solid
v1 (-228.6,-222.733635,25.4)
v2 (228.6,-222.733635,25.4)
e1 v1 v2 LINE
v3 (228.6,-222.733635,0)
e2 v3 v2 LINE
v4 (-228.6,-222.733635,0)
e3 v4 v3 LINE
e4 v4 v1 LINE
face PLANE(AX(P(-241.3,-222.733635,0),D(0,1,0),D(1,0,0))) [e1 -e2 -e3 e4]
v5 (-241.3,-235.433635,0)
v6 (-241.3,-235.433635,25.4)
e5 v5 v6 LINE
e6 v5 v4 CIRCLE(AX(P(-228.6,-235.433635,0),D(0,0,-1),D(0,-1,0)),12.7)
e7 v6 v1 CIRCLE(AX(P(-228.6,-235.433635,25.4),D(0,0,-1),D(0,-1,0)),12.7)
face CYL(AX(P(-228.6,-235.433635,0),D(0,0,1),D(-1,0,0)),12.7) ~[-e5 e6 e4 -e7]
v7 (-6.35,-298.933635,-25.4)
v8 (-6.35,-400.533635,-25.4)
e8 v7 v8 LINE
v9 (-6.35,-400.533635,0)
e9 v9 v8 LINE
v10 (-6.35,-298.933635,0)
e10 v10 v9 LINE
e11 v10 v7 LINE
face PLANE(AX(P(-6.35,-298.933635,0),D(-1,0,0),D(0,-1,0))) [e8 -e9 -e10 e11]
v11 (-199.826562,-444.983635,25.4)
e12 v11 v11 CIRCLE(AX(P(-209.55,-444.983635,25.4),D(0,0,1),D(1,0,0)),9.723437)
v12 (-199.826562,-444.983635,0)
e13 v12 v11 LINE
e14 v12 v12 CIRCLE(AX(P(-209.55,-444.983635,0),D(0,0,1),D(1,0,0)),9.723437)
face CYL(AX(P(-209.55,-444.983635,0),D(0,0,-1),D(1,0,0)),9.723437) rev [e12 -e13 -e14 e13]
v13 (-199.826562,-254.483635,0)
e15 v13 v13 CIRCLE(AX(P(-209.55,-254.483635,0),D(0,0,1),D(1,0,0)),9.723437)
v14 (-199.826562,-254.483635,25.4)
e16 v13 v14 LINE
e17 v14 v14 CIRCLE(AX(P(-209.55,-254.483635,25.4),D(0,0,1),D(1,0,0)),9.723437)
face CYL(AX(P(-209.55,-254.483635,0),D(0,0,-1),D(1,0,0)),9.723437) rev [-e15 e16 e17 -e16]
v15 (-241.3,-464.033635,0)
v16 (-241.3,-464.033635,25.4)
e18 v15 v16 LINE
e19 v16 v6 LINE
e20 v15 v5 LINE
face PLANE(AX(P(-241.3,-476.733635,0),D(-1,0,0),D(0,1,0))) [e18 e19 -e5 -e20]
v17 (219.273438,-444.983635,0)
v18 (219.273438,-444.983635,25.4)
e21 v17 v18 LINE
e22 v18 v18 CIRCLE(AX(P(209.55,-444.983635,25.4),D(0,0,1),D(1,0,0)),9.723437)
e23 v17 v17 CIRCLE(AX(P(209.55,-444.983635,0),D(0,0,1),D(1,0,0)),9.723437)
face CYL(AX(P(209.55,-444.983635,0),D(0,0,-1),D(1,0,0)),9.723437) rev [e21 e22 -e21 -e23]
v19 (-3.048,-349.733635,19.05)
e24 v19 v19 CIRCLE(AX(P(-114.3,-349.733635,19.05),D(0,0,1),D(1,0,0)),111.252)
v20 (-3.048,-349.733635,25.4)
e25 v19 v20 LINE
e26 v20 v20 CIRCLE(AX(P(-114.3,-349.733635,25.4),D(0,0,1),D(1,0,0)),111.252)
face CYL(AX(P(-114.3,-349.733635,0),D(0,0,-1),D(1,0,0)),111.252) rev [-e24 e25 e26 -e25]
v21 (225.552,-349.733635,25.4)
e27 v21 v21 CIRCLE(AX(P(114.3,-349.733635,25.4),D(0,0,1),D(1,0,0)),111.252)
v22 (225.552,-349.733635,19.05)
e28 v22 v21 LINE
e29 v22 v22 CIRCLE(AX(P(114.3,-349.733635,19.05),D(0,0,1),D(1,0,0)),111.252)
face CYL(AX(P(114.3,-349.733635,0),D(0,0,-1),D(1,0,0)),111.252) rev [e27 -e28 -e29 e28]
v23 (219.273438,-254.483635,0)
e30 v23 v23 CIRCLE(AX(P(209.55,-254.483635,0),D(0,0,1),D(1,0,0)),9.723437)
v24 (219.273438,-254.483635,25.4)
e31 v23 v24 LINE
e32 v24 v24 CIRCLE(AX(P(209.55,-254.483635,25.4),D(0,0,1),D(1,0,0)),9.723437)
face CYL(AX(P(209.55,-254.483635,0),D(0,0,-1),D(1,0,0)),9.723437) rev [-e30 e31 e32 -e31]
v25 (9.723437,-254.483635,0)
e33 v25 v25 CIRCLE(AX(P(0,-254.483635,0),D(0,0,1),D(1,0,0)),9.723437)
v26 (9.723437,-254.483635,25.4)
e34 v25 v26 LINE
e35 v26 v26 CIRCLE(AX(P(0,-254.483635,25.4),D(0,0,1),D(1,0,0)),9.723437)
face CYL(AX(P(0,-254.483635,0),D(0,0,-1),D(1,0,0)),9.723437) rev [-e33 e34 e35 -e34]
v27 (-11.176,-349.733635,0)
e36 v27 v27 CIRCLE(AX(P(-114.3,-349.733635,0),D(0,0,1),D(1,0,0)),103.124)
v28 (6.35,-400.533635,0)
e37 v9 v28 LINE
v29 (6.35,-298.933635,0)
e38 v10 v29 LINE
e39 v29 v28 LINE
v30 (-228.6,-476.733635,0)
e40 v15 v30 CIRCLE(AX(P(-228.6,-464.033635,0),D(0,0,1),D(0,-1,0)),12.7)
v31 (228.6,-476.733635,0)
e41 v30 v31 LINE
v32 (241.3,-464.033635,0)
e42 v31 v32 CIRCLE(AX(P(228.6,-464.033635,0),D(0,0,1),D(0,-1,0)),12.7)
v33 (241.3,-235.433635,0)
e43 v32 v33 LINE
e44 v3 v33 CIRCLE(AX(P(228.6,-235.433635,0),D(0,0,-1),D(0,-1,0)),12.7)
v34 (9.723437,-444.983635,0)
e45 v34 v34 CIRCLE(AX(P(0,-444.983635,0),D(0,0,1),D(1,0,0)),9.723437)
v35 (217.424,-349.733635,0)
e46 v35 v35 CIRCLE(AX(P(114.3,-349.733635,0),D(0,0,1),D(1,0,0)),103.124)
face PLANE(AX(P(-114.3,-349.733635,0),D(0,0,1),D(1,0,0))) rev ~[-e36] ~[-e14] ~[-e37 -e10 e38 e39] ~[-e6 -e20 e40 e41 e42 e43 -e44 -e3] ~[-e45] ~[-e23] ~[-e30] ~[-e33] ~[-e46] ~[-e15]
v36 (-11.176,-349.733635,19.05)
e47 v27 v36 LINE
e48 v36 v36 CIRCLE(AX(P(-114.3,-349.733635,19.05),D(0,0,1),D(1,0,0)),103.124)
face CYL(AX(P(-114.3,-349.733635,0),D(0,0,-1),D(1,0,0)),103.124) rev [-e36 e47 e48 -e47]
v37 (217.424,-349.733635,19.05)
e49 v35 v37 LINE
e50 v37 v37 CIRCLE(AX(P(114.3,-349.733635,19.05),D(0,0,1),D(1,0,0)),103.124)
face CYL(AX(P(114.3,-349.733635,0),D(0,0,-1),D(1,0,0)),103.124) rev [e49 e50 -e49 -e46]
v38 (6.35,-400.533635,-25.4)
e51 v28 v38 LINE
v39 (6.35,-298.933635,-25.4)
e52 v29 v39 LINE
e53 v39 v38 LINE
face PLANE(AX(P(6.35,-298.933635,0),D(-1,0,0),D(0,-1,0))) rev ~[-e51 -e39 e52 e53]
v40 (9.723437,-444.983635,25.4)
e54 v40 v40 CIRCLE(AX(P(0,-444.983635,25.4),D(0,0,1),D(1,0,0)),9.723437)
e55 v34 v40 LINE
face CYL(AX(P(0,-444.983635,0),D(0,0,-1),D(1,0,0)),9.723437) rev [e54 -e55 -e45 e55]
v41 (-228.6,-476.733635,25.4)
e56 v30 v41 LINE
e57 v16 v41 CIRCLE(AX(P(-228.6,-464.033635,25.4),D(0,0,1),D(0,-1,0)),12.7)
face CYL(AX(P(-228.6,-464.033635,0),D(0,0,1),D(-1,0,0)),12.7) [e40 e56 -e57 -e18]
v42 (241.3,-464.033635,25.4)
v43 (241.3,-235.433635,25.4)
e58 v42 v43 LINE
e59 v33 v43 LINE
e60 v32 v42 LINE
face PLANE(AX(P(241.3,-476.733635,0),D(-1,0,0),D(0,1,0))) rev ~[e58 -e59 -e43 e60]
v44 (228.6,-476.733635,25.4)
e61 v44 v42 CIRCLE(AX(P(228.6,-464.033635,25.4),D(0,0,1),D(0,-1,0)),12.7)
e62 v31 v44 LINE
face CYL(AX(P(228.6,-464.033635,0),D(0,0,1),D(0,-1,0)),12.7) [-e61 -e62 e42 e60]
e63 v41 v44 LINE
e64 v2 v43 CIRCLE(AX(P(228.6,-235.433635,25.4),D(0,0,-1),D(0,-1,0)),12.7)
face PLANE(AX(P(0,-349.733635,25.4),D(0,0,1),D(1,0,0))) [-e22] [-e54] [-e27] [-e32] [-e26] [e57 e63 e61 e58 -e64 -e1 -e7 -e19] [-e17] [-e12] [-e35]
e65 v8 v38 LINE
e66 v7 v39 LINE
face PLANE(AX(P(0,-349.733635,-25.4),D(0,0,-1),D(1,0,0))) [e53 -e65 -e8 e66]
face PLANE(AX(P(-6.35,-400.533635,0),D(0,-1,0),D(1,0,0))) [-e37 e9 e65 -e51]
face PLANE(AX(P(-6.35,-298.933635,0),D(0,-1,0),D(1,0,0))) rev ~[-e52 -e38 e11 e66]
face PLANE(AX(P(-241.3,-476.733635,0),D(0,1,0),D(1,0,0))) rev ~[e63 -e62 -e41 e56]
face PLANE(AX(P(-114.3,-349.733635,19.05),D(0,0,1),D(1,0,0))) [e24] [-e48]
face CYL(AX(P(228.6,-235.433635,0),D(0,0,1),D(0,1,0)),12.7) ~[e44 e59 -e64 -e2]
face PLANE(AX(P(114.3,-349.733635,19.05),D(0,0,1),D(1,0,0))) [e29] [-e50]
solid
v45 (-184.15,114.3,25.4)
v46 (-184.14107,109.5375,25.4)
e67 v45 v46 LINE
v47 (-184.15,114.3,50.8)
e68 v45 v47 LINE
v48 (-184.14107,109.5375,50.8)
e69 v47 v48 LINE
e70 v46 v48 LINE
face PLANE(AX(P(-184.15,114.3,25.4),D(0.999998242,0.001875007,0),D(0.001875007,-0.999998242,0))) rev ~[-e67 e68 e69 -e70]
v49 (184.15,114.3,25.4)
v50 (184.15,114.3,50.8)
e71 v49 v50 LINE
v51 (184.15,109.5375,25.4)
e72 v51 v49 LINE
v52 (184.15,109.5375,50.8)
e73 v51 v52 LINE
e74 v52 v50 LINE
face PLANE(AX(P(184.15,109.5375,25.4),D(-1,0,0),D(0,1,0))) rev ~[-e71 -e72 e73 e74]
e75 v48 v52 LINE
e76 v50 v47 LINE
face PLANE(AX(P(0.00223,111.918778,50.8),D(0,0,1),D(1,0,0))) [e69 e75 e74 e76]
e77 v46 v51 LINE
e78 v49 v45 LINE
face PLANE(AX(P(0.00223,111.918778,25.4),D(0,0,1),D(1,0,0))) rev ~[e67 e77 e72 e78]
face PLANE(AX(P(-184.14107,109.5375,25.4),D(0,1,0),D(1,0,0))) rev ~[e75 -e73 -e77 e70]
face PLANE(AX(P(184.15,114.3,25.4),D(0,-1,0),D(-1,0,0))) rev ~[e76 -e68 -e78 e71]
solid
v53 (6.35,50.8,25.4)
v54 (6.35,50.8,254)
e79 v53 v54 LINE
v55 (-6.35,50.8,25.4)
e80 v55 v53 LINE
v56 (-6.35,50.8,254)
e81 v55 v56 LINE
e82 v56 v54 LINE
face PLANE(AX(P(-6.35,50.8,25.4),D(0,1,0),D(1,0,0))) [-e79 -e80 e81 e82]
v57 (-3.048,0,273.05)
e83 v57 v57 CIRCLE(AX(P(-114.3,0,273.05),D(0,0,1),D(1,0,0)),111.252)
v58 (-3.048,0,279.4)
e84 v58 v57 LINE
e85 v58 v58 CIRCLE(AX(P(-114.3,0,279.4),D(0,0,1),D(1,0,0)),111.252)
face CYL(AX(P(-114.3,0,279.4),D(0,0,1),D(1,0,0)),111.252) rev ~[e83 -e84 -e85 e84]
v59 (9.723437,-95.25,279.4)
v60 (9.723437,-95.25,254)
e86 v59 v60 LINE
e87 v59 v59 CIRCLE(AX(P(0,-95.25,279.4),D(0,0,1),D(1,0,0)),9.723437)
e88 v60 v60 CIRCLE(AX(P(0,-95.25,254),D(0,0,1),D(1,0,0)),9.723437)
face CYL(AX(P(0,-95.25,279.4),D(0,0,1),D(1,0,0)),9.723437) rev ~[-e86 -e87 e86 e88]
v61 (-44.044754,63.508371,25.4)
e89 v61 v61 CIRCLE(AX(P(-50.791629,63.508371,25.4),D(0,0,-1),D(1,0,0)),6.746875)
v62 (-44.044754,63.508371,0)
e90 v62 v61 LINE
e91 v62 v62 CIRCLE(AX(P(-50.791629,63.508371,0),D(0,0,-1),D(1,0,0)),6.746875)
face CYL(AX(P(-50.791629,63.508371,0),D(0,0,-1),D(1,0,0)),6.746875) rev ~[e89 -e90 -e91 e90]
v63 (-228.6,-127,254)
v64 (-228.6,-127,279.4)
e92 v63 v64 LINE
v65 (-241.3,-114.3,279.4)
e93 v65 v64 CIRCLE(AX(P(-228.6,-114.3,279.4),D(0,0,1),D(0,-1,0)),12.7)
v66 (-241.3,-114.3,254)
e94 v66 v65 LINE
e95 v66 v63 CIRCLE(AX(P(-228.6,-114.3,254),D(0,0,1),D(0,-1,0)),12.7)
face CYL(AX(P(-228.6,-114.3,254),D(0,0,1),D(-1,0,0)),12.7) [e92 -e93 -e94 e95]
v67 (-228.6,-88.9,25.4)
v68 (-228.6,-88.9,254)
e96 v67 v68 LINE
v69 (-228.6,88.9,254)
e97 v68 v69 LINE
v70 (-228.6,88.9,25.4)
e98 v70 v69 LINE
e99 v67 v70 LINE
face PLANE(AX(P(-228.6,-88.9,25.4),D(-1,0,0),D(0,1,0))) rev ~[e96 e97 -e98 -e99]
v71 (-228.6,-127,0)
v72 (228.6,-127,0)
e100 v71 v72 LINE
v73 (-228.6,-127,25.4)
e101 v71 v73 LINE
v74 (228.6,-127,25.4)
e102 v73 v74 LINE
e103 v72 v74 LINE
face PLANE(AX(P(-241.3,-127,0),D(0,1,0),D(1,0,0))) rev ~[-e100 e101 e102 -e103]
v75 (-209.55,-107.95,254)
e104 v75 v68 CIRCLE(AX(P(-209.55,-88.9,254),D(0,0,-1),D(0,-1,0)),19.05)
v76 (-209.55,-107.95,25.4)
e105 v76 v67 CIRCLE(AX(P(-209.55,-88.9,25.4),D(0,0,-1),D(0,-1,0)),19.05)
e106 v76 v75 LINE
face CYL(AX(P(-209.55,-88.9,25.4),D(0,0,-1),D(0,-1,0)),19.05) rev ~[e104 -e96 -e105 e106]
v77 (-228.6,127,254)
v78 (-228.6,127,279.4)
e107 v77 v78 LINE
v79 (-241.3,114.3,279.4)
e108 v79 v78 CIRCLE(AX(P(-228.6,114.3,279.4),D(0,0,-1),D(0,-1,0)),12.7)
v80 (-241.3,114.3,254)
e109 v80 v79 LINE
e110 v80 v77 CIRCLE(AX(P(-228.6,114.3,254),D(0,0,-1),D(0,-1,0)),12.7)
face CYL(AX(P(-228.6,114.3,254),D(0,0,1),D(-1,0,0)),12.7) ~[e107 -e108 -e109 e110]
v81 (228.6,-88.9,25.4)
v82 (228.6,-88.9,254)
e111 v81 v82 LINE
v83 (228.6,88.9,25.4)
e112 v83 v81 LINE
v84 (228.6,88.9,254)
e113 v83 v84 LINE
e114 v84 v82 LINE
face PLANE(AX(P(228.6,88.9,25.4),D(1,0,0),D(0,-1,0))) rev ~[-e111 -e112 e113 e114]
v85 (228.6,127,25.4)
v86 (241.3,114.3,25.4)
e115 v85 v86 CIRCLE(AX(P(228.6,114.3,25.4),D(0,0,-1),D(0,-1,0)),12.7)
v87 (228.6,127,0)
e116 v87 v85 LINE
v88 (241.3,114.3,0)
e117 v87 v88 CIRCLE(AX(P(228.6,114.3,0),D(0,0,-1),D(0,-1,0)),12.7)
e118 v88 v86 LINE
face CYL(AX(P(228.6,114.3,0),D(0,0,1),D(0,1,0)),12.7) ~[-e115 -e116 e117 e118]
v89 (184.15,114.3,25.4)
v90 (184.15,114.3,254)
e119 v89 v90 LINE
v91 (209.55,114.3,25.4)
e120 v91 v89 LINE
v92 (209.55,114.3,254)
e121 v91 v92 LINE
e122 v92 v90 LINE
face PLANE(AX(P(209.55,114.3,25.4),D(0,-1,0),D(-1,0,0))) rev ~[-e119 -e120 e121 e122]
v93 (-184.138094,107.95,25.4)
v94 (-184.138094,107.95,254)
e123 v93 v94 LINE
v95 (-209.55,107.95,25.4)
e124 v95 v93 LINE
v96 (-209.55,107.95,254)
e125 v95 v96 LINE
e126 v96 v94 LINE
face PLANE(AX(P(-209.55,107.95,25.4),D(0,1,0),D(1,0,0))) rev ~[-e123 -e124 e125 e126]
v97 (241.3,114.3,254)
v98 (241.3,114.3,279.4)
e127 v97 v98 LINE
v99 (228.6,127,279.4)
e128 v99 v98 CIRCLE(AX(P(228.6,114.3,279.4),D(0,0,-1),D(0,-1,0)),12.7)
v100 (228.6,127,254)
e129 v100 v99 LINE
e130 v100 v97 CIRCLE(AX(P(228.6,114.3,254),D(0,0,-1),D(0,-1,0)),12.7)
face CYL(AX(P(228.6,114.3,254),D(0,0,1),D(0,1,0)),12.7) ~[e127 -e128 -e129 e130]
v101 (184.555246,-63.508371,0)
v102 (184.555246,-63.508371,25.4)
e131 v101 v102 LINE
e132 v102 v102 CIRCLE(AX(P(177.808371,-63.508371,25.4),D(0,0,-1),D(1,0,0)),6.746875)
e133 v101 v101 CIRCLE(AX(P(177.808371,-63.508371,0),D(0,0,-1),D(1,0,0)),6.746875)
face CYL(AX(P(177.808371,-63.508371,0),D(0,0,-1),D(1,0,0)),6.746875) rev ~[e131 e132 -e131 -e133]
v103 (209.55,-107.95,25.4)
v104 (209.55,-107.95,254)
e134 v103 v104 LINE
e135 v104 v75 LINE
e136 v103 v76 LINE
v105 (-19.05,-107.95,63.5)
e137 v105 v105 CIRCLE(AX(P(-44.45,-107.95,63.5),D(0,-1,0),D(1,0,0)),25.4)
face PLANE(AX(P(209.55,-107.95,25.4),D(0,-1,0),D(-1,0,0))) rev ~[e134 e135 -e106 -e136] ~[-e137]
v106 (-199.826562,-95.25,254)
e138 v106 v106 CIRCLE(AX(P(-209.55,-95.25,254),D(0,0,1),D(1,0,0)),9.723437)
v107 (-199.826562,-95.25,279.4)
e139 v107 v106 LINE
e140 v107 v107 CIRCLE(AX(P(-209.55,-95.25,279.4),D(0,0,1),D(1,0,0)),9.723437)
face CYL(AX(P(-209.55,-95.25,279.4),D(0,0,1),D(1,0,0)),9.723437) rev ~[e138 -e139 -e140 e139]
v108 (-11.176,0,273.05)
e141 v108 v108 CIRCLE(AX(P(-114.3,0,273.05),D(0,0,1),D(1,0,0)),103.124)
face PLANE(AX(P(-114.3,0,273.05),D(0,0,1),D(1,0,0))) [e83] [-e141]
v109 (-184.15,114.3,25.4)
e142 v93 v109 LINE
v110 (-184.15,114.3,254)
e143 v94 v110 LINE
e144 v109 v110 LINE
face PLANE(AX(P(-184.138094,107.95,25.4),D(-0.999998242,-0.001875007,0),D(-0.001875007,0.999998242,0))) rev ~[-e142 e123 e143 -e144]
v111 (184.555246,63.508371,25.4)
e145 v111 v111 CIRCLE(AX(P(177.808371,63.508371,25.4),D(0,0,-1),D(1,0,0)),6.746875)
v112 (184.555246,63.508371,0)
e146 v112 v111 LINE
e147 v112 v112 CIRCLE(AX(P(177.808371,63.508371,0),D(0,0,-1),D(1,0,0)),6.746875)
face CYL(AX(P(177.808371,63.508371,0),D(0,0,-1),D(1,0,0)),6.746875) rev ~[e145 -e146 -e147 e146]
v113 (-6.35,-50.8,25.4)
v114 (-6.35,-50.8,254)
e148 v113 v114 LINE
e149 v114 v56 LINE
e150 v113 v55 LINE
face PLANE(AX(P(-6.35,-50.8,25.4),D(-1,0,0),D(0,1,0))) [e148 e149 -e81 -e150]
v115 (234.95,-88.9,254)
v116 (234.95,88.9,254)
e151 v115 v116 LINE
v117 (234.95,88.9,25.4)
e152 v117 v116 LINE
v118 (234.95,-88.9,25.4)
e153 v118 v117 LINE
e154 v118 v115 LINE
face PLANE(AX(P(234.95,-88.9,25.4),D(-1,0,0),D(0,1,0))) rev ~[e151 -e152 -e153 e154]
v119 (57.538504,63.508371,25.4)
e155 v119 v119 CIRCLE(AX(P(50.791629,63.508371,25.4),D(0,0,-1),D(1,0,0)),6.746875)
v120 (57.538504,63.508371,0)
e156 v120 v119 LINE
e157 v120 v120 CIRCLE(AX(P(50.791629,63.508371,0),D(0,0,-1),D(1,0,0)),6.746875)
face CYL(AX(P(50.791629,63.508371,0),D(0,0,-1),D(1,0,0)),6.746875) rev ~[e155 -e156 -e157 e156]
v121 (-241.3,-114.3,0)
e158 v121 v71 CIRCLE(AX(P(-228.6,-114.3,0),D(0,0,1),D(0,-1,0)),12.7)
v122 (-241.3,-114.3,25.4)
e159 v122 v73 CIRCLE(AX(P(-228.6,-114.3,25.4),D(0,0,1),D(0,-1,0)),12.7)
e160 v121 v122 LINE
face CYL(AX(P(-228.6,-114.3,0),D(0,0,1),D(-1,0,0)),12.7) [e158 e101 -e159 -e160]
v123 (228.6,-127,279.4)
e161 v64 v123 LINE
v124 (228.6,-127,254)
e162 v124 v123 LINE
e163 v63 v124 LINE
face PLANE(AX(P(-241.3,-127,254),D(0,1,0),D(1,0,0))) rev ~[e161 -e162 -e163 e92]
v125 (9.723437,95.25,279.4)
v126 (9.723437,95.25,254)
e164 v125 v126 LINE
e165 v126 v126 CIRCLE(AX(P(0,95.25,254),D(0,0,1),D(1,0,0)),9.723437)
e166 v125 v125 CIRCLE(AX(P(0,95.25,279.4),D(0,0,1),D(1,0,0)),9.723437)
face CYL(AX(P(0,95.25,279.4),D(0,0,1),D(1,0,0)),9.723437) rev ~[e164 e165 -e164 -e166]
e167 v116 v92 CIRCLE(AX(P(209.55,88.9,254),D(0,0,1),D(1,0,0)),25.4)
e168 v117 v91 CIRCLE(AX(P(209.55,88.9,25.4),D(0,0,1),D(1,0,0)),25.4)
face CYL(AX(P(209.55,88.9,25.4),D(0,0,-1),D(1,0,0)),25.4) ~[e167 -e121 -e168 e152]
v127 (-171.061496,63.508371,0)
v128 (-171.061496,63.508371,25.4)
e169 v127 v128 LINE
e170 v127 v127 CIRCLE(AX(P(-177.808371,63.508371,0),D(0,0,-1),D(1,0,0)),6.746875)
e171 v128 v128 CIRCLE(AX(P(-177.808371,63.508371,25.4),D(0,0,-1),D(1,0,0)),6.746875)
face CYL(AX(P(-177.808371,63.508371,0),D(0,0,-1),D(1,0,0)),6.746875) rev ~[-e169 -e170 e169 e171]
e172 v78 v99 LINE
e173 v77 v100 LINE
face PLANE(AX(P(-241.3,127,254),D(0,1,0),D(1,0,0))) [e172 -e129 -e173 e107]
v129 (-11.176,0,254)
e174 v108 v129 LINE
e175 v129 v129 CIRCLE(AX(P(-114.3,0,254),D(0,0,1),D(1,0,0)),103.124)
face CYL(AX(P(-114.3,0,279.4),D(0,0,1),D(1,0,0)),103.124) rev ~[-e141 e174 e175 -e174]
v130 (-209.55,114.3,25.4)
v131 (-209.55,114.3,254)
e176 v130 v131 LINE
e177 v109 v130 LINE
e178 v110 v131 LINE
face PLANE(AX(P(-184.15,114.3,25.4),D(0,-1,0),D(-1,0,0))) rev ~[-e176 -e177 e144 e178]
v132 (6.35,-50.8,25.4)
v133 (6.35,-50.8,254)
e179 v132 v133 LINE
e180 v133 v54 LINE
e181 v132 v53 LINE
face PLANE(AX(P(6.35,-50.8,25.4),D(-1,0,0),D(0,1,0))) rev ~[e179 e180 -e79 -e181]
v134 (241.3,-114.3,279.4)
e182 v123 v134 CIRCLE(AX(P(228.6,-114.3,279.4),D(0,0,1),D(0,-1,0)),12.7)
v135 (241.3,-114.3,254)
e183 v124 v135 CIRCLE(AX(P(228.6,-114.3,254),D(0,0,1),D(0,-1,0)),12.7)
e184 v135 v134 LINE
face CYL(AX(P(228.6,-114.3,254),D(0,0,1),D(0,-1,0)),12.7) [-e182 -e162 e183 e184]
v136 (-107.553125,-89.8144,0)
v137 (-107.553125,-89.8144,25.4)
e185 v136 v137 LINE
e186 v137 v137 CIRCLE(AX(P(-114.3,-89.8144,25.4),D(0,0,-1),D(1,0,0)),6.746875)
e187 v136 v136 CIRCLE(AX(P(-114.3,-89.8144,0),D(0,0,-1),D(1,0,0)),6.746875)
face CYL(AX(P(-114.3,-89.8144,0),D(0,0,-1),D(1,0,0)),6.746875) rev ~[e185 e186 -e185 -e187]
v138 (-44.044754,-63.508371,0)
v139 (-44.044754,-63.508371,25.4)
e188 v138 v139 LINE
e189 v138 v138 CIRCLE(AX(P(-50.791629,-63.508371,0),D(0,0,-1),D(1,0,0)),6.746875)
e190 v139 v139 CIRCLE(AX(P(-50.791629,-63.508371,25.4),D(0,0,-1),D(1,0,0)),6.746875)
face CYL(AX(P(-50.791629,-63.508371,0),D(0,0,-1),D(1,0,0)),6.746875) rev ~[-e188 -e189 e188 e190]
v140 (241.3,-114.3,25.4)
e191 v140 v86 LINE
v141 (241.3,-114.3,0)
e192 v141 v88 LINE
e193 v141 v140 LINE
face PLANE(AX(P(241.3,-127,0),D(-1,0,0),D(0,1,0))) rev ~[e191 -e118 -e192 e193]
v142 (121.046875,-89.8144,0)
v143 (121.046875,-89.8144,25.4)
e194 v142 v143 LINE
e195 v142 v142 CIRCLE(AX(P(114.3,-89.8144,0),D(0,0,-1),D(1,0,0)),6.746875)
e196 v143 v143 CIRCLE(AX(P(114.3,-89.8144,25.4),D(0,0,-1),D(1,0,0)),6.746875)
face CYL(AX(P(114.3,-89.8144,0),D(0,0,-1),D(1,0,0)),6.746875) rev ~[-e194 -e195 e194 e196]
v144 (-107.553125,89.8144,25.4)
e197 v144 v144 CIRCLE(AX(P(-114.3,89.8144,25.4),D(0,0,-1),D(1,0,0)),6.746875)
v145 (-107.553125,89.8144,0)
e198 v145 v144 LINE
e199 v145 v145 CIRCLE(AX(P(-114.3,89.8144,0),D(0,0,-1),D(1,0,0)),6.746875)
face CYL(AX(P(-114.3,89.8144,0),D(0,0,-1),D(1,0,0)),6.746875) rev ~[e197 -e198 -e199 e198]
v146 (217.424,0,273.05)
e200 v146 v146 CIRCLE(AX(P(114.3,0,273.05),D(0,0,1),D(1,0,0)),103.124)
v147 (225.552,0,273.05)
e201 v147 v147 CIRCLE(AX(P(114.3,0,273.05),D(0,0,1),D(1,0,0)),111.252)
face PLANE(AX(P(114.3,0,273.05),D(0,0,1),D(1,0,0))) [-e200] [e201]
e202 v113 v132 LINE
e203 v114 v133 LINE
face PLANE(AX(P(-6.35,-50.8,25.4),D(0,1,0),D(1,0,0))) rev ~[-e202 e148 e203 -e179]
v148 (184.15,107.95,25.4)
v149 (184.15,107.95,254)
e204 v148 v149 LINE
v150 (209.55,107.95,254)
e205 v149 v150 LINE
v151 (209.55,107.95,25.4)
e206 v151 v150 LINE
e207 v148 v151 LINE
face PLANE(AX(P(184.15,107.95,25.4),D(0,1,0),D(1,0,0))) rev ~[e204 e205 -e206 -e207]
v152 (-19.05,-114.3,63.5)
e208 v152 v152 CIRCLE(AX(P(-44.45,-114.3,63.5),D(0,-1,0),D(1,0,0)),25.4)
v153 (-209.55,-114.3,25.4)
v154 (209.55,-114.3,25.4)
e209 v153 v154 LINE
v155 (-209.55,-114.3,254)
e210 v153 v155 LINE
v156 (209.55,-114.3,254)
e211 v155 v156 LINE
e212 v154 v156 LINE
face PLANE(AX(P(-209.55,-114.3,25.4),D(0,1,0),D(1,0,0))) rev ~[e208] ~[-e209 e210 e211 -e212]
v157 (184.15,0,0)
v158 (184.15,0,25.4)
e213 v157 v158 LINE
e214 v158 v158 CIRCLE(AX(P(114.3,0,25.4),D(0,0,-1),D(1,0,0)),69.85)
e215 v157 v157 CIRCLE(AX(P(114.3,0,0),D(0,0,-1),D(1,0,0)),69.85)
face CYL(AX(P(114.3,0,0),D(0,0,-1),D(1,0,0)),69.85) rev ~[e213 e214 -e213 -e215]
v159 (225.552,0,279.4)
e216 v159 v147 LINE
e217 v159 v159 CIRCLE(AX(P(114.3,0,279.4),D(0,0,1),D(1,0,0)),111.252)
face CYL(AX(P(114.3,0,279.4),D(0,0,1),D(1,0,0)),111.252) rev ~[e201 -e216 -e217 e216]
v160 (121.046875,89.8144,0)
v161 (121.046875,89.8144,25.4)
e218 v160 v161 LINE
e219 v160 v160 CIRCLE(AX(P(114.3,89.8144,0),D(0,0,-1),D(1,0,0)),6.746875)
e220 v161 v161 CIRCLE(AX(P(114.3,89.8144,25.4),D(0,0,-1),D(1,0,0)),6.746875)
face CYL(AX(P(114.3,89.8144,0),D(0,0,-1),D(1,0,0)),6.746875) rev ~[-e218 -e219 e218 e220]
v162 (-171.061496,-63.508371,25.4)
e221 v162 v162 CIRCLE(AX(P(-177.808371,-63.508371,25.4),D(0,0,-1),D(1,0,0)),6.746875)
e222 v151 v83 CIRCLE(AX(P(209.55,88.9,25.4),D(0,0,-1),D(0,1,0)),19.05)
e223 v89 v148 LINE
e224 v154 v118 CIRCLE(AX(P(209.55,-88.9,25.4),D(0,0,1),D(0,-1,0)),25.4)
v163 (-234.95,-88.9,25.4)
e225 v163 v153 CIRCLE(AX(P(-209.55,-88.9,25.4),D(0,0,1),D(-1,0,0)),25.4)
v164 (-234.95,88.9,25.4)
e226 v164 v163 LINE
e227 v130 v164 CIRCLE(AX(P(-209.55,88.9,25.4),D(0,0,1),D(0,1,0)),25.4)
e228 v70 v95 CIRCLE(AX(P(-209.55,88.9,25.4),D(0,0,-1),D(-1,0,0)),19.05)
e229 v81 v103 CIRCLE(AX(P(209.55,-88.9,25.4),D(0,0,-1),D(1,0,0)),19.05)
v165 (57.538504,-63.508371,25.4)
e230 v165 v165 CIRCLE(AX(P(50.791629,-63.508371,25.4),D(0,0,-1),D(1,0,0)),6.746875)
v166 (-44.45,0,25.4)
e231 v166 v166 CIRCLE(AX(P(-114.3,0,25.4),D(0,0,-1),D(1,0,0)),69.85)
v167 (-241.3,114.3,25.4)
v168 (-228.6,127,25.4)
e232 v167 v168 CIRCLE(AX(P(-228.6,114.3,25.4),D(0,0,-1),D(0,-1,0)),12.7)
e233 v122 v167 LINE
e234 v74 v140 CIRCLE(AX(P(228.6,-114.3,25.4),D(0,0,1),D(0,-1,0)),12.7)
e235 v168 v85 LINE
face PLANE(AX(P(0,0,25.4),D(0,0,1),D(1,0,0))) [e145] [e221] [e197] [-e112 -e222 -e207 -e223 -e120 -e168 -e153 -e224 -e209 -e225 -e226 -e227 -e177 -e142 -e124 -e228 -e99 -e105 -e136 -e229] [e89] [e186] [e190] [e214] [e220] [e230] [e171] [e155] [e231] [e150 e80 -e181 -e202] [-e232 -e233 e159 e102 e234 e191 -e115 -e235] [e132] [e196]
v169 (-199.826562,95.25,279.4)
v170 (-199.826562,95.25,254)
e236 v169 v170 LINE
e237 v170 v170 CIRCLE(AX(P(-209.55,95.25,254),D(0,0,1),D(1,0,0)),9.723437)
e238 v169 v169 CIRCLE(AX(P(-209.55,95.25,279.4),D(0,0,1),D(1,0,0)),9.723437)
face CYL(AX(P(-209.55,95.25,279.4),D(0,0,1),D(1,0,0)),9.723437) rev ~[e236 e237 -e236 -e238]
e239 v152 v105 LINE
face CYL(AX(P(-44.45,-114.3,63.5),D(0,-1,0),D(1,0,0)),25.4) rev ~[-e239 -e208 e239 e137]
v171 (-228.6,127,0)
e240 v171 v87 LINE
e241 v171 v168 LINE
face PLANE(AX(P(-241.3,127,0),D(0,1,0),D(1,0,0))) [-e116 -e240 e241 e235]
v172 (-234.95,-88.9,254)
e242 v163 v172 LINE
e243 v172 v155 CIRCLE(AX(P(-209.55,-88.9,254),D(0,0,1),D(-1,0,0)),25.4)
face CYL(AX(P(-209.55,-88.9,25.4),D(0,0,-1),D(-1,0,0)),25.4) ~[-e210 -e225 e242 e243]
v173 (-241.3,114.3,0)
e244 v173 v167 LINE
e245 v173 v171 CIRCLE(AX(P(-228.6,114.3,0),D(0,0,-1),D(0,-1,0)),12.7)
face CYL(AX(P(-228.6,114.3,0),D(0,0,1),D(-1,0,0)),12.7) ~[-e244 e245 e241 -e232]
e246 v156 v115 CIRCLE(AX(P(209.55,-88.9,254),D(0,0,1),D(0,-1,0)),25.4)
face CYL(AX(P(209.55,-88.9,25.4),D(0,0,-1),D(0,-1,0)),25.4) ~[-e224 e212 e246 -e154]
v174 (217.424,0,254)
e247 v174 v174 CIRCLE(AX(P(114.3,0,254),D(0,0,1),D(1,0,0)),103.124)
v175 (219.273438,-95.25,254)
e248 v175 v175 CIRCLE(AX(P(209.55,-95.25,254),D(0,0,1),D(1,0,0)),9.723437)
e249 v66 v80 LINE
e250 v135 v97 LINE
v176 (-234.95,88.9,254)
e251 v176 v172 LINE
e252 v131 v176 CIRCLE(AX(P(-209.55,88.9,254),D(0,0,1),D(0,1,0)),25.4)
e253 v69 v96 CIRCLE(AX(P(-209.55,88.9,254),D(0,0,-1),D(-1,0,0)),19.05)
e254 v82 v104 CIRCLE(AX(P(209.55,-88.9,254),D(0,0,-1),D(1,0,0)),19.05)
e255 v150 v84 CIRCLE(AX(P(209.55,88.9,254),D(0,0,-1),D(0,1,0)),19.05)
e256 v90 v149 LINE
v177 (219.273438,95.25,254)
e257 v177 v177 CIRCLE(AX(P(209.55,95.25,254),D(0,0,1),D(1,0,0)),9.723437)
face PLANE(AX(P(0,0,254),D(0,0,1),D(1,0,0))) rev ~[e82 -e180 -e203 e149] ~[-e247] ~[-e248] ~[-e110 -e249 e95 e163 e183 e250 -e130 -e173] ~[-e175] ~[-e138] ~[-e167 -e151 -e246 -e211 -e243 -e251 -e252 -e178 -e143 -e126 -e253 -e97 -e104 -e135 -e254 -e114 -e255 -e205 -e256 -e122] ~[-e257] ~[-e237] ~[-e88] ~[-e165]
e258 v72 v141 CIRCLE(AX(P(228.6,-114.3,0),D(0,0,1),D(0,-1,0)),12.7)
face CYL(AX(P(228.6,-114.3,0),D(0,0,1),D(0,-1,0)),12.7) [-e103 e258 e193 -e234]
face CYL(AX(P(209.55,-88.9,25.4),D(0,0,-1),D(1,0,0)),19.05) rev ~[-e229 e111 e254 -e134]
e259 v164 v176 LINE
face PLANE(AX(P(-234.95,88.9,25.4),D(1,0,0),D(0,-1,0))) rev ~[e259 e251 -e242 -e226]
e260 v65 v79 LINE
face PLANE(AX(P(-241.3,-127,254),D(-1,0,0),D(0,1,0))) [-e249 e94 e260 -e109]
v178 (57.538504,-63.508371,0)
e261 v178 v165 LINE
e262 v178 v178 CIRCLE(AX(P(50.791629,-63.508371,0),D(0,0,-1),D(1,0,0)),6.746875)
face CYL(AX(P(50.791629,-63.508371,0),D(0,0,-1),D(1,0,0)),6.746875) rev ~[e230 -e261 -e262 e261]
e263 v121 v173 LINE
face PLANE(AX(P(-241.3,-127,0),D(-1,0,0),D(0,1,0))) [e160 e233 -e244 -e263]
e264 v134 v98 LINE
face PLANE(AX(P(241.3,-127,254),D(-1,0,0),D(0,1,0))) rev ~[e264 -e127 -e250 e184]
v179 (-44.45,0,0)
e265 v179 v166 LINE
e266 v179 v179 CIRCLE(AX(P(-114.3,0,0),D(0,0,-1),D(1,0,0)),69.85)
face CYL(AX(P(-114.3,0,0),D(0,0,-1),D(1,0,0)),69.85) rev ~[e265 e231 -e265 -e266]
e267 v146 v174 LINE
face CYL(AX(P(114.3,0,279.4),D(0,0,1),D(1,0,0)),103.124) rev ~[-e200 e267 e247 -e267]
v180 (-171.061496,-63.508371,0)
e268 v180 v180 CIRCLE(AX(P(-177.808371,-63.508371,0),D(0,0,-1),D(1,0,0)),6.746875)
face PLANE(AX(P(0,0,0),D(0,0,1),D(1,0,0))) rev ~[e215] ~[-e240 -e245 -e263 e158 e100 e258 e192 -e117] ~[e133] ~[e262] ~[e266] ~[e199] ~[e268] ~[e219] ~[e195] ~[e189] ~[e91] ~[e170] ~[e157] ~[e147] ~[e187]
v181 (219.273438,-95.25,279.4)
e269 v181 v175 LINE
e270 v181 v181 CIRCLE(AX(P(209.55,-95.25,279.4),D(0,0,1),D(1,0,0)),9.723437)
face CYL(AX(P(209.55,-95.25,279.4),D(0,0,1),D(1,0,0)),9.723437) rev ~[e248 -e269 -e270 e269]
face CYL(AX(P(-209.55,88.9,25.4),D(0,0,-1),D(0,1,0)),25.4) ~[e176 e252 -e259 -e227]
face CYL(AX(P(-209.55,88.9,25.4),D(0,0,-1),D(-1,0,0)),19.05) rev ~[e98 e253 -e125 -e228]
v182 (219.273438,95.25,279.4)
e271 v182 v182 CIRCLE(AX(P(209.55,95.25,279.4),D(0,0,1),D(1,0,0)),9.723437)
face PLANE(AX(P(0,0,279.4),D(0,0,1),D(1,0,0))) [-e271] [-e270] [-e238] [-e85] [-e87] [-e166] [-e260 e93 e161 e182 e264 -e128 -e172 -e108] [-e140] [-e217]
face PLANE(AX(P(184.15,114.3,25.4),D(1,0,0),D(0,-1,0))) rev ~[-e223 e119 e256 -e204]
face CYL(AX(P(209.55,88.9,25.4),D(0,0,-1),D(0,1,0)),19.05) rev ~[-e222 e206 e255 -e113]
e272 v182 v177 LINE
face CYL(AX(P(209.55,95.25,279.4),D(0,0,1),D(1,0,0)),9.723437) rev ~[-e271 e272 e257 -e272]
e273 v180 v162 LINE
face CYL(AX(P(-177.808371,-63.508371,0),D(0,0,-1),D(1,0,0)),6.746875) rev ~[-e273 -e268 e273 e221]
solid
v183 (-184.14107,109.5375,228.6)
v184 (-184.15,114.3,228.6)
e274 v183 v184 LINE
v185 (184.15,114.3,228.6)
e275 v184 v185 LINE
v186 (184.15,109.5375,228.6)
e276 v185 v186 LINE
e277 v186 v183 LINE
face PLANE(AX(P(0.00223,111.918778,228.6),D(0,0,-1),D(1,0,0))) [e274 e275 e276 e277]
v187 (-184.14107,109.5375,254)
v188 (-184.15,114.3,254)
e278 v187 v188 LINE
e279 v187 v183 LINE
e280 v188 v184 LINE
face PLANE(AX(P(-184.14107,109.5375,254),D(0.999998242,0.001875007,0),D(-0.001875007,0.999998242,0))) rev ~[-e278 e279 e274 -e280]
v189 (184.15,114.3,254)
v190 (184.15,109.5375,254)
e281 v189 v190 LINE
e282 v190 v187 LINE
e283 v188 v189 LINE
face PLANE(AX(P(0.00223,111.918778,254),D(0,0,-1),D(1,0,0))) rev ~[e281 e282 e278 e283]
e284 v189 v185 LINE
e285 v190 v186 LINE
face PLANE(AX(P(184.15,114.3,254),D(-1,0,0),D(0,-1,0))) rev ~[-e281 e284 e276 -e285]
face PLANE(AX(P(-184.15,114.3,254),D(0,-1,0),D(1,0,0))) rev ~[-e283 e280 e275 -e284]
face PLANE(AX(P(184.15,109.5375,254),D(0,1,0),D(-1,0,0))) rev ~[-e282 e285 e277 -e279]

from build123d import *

# Parameters (mm, degrees)
F0_W      = 482.6
F0_H      = 254
F1_DEPTH  = 25.4
F2_W      = 12.7
F2_H      = 101.6
F3_DEPTH  = 228.6
F4_W      = 482.6
F4_H      = 254
F5_DEPTH  = 25.4
F6_R      = 25.4
F7_DEPTH  = 6.35
F9_R      = 103.124
F10_DEPTH = 25.4
F9_R_2    = 111.252
F11_DEPTH = 6.35
F9_R_3    = 9.7234375
F12_DEPTH = 25.4
F13_R     = 69.85
F13_R_2   = 6.746875
F14_DEPTH = 25.4
F16_DEPTH = 25.4
F18_DEPTH = 25.4
F19_W     = 482.6
F19_H     = 254
F19_R     = 9.7234375
F19_R_2   = 111.252
F20_DEPTH = 25.4
F19_R_3   = 103.124
F21_DEPTH = 19.05
F22_W     = 12.7
F22_H     = 101.6
F23_DEPTH = 25.4
F24_R     = 12.7
F24_2_R   = 12.7


with BuildPart() as f1:
    # F0 (on Top) → F1 (new body)
    with BuildSketch(Plane.XY):
        Rectangle(F0_W, F0_H)
    extrude(amount=F1_DEPTH)

    # F2 (on face) → F3 (join)
    with BuildSketch(Plane.XY.offset(25.4)):
        with BuildLine():
            Line((-209.55, -114.3), (209.55, -114.3))
            ThreePointArc((209.55, -114.3), (227.5105122422, -106.8605122422), (234.95, -88.9))
            Line((234.95, -88.9), (234.95, 88.9))
            ThreePointArc((234.95, 88.9), (227.5105122421, 106.8605122421), (209.55, 114.3))
            Line((209.55, 114.3), (184.15, 114.3))
            Line((184.15, 114.3), (184.15, 107.95))
            Line((184.15, 107.95), (209.55, 107.95))
            ThreePointArc((209.55, 107.95), (223.0203841815, 102.3703841815), (228.6, 88.9))
            Line((228.6, 88.9), (228.6, -88.9))
            ThreePointArc((228.6, -88.9), (223.0203841817, -102.3703841817), (209.55, -107.95))
            Line((209.55, -107.95), (-209.55, -107.95))
            ThreePointArc((-209.55, -107.95), (-223.0203841815, -102.3703841815), (-228.6, -88.9))
            Line((-228.6, -88.9), (-228.6, 88.9))
            ThreePointArc((-228.6, 88.9), (-223.0203841817, 102.3703841817), (-209.55, 107.95))
            Line((-209.55, 107.95), (-184.1380936862, 107.95))
            Line((-184.1380936862, 107.95), (-184.15, 114.3))
            Line((-184.15, 114.3), (-209.55, 114.3))
            ThreePointArc((-209.55, 114.3), (-227.5105122422, 106.8605122422), (-234.95, 88.9))
            Line((-234.95, 88.9), (-234.95, -88.9))
            ThreePointArc((-234.95, -88.9), (-227.5105122421, -106.8605122421), (-209.55, -114.3))
        make_face()
        Rectangle(F2_W, F2_H)
    extrude(amount=F3_DEPTH)

    # F4 (on face) → F5 (join)
    with BuildSketch(Plane.XY.offset(254)):
        Rectangle(F4_W, F4_H)
    extrude(amount=F5_DEPTH)

    # F6 (on face) → F7 (cut)
    with BuildSketch(Plane.XZ.offset(114.3)):
        with Locations((-44.45, 63.5)):
            Circle(F6_R)
    extrude(amount=-F7_DEPTH, mode=Mode.SUBTRACT)

    # F9 (on face) → F10 (cut)
    with BuildSketch(Plane.XY.offset(279.4)):
        with Locations((-114.3, 0)):
            Circle(F9_R)
        with Locations((114.3, 0)):
            Circle(F9_R)
    extrude(amount=-F10_DEPTH, mode=Mode.SUBTRACT)

    # F9 (on face) → F11 (cut)
    with BuildSketch(Plane.XY.offset(279.4)):
        with Locations((-114.3, 0)):
            Circle(F9_R_2)
        with Locations((-114.3, 0)):
            Circle(F9_R, mode=Mode.SUBTRACT)
        with Locations((114.3, 0)):
            Circle(F9_R_2)
        with Locations((114.3, 0)):
            Circle(F9_R, mode=Mode.SUBTRACT)
    extrude(amount=-F11_DEPTH, mode=Mode.SUBTRACT)

    # F9 (on face) → F12 (cut)
    with BuildSketch(Plane.XY.offset(279.4)):
        with Locations((-209.55, 95.25)):
            Circle(F9_R_3)
        with Locations((0, 95.25)):
            Circle(F9_R_3)
        with Locations((209.55, 95.25)):
            Circle(F9_R_3)
        with Locations((209.55, -95.25)):
            Circle(F9_R_3)
        with Locations((0, -95.25)):
            Circle(F9_R_3)
        with Locations((-209.55, -95.25)):
            Circle(F9_R_3)
    extrude(amount=-F12_DEPTH, mode=Mode.SUBTRACT)

    # F13 (on face) → F14 (cut)
    with BuildSketch(Plane(origin=(0, 0, 0), x_dir=(1, 0, 0), z_dir=(0, 0, -1))):
        with Locations((114.3, 0)):
            Circle(F13_R)
        with Locations((114.3, -89.8144)):
            Circle(F13_R_2)
        with Locations((177.8083712882, -63.5083712882)):
            Circle(F13_R_2)
        with Locations((50.7916287118, -63.5083712882)):
            Circle(F13_R_2)
        with Locations((50.7916287118, 63.5083712882)):
            Circle(F13_R_2)
        with Locations((114.3, 89.8144)):
            Circle(F13_R_2)
        with Locations((177.8083712882, 63.5083712882)):
            Circle(F13_R_2)
        with Locations((-50.7916287118, -63.5083712882)):
            Circle(F13_R_2)
        with Locations((-114.3, -89.8144)):
            Circle(F13_R_2)
        with Locations((-177.8083712882, -63.5083712882)):
            Circle(F13_R_2)
        with Locations((-114.3, 0)):
            Circle(F13_R)
        with Locations((-50.7916287118, 63.5083712882)):
            Circle(F13_R_2)
        with Locations((-114.3, 89.8144)):
            Circle(F13_R_2)
        with Locations((-177.8083712882, 63.5083712882)):
            Circle(F13_R_2)
    extrude(amount=-F14_DEPTH, mode=Mode.SUBTRACT)

    # F24
    f24_edges = [f1.edges().sort_by_distance(p)[0] for p in [
        (241.3, -127, 266.7),
        (241.3, 127, 266.7),
        (241.3, 127, 12.7),
        (241.3, -127, 12.7),
        (-241.3, -127, 266.7),
        (-241.3, 127, 266.7),
        (-241.3, 127, 12.7),
        (-241.3, -127, 12.7),
    ]]
    fillet(f24_edges, radius=F24_R)


with BuildPart() as f16:
    # F15 (on face) → F16 (new body)
    with BuildSketch(Plane.XY.offset(25.4)):
        Polygon((184.15, 114.3), (-184.15, 114.3), (-184.1410702647, 109.5375), (184.15, 109.5375), align=None)
    extrude(amount=F16_DEPTH)


with BuildPart() as f18:
    # F17 (on face) → F18 (new body)
    with BuildSketch(Plane(origin=(0, 0, 254), x_dir=(1, 0, 0), z_dir=(0, 0, -1))):
        Polygon((184.15, -109.5375), (-184.1410702647, -109.5375), (-184.15, -114.3), (184.15, -114.3), align=None)
    extrude(amount=F18_DEPTH)


with BuildPart() as f20:
    # F19 (on Top) → F20 (new body)
    with BuildSketch(Plane.XY):
        with Locations((0, -349.7336347278)):
            Rectangle(F19_W, F19_H)
        with Locations((-209.55, -444.9836347278)):
            Circle(F19_R, mode=Mode.SUBTRACT)
        with Locations((-114.3, -349.7336347278)):
            Circle(F19_R_2, mode=Mode.SUBTRACT)
        with Locations((0, -444.9836347278)):
            Circle(F19_R, mode=Mode.SUBTRACT)
        with Locations((209.55, -444.9836347278)):
            Circle(F19_R, mode=Mode.SUBTRACT)
        with Locations((114.3, -349.7336347278)):
            Circle(F19_R_2, mode=Mode.SUBTRACT)
        with Locations((-209.55, -254.4836347278)):
            Circle(F19_R, mode=Mode.SUBTRACT)
        with Locations((0, -254.4836347278)):
            Circle(F19_R, mode=Mode.SUBTRACT)
        with Locations((209.55, -254.4836347278)):
            Circle(F19_R, mode=Mode.SUBTRACT)
    extrude(amount=F20_DEPTH)

    # F19 (on Top) → F21 (join)
    with BuildSketch(Plane.XY):
        with Locations((-114.3, -349.7336347278)):
            Circle(F19_R_2)
        with Locations((-114.3, -349.7336347278)):
            Circle(F19_R_3, mode=Mode.SUBTRACT)
        with Locations((114.3, -349.7336347278)):
            Circle(F19_R_2)
        with Locations((114.3, -349.7336347278)):
            Circle(F19_R_3, mode=Mode.SUBTRACT)
    extrude(amount=F21_DEPTH)

    # F22 (on face) → F23 (join)
    with BuildSketch(Plane(origin=(0, 0, 0), x_dir=(1, 0, 0), z_dir=(0, 0, -1))):
        with Locations((0, 349.7336347278)):
            Rectangle(F22_W, F22_H)
    extrude(amount=F23_DEPTH)

    # F24#2
    f24_2_edges = [f20.edges().sort_by_distance(p)[0] for p in [
        (-241.3, -476.733635, 12.7),
        (-241.3, -222.733635, 12.7),
        (241.3, -222.733635, 12.7),
        (241.3, -476.733635, 12.7),
    ]]
    fillet(f24_2_edges, radius=F24_2_R)


solid = Compound([f1.part, f16.part, f18.part, f20.part])
